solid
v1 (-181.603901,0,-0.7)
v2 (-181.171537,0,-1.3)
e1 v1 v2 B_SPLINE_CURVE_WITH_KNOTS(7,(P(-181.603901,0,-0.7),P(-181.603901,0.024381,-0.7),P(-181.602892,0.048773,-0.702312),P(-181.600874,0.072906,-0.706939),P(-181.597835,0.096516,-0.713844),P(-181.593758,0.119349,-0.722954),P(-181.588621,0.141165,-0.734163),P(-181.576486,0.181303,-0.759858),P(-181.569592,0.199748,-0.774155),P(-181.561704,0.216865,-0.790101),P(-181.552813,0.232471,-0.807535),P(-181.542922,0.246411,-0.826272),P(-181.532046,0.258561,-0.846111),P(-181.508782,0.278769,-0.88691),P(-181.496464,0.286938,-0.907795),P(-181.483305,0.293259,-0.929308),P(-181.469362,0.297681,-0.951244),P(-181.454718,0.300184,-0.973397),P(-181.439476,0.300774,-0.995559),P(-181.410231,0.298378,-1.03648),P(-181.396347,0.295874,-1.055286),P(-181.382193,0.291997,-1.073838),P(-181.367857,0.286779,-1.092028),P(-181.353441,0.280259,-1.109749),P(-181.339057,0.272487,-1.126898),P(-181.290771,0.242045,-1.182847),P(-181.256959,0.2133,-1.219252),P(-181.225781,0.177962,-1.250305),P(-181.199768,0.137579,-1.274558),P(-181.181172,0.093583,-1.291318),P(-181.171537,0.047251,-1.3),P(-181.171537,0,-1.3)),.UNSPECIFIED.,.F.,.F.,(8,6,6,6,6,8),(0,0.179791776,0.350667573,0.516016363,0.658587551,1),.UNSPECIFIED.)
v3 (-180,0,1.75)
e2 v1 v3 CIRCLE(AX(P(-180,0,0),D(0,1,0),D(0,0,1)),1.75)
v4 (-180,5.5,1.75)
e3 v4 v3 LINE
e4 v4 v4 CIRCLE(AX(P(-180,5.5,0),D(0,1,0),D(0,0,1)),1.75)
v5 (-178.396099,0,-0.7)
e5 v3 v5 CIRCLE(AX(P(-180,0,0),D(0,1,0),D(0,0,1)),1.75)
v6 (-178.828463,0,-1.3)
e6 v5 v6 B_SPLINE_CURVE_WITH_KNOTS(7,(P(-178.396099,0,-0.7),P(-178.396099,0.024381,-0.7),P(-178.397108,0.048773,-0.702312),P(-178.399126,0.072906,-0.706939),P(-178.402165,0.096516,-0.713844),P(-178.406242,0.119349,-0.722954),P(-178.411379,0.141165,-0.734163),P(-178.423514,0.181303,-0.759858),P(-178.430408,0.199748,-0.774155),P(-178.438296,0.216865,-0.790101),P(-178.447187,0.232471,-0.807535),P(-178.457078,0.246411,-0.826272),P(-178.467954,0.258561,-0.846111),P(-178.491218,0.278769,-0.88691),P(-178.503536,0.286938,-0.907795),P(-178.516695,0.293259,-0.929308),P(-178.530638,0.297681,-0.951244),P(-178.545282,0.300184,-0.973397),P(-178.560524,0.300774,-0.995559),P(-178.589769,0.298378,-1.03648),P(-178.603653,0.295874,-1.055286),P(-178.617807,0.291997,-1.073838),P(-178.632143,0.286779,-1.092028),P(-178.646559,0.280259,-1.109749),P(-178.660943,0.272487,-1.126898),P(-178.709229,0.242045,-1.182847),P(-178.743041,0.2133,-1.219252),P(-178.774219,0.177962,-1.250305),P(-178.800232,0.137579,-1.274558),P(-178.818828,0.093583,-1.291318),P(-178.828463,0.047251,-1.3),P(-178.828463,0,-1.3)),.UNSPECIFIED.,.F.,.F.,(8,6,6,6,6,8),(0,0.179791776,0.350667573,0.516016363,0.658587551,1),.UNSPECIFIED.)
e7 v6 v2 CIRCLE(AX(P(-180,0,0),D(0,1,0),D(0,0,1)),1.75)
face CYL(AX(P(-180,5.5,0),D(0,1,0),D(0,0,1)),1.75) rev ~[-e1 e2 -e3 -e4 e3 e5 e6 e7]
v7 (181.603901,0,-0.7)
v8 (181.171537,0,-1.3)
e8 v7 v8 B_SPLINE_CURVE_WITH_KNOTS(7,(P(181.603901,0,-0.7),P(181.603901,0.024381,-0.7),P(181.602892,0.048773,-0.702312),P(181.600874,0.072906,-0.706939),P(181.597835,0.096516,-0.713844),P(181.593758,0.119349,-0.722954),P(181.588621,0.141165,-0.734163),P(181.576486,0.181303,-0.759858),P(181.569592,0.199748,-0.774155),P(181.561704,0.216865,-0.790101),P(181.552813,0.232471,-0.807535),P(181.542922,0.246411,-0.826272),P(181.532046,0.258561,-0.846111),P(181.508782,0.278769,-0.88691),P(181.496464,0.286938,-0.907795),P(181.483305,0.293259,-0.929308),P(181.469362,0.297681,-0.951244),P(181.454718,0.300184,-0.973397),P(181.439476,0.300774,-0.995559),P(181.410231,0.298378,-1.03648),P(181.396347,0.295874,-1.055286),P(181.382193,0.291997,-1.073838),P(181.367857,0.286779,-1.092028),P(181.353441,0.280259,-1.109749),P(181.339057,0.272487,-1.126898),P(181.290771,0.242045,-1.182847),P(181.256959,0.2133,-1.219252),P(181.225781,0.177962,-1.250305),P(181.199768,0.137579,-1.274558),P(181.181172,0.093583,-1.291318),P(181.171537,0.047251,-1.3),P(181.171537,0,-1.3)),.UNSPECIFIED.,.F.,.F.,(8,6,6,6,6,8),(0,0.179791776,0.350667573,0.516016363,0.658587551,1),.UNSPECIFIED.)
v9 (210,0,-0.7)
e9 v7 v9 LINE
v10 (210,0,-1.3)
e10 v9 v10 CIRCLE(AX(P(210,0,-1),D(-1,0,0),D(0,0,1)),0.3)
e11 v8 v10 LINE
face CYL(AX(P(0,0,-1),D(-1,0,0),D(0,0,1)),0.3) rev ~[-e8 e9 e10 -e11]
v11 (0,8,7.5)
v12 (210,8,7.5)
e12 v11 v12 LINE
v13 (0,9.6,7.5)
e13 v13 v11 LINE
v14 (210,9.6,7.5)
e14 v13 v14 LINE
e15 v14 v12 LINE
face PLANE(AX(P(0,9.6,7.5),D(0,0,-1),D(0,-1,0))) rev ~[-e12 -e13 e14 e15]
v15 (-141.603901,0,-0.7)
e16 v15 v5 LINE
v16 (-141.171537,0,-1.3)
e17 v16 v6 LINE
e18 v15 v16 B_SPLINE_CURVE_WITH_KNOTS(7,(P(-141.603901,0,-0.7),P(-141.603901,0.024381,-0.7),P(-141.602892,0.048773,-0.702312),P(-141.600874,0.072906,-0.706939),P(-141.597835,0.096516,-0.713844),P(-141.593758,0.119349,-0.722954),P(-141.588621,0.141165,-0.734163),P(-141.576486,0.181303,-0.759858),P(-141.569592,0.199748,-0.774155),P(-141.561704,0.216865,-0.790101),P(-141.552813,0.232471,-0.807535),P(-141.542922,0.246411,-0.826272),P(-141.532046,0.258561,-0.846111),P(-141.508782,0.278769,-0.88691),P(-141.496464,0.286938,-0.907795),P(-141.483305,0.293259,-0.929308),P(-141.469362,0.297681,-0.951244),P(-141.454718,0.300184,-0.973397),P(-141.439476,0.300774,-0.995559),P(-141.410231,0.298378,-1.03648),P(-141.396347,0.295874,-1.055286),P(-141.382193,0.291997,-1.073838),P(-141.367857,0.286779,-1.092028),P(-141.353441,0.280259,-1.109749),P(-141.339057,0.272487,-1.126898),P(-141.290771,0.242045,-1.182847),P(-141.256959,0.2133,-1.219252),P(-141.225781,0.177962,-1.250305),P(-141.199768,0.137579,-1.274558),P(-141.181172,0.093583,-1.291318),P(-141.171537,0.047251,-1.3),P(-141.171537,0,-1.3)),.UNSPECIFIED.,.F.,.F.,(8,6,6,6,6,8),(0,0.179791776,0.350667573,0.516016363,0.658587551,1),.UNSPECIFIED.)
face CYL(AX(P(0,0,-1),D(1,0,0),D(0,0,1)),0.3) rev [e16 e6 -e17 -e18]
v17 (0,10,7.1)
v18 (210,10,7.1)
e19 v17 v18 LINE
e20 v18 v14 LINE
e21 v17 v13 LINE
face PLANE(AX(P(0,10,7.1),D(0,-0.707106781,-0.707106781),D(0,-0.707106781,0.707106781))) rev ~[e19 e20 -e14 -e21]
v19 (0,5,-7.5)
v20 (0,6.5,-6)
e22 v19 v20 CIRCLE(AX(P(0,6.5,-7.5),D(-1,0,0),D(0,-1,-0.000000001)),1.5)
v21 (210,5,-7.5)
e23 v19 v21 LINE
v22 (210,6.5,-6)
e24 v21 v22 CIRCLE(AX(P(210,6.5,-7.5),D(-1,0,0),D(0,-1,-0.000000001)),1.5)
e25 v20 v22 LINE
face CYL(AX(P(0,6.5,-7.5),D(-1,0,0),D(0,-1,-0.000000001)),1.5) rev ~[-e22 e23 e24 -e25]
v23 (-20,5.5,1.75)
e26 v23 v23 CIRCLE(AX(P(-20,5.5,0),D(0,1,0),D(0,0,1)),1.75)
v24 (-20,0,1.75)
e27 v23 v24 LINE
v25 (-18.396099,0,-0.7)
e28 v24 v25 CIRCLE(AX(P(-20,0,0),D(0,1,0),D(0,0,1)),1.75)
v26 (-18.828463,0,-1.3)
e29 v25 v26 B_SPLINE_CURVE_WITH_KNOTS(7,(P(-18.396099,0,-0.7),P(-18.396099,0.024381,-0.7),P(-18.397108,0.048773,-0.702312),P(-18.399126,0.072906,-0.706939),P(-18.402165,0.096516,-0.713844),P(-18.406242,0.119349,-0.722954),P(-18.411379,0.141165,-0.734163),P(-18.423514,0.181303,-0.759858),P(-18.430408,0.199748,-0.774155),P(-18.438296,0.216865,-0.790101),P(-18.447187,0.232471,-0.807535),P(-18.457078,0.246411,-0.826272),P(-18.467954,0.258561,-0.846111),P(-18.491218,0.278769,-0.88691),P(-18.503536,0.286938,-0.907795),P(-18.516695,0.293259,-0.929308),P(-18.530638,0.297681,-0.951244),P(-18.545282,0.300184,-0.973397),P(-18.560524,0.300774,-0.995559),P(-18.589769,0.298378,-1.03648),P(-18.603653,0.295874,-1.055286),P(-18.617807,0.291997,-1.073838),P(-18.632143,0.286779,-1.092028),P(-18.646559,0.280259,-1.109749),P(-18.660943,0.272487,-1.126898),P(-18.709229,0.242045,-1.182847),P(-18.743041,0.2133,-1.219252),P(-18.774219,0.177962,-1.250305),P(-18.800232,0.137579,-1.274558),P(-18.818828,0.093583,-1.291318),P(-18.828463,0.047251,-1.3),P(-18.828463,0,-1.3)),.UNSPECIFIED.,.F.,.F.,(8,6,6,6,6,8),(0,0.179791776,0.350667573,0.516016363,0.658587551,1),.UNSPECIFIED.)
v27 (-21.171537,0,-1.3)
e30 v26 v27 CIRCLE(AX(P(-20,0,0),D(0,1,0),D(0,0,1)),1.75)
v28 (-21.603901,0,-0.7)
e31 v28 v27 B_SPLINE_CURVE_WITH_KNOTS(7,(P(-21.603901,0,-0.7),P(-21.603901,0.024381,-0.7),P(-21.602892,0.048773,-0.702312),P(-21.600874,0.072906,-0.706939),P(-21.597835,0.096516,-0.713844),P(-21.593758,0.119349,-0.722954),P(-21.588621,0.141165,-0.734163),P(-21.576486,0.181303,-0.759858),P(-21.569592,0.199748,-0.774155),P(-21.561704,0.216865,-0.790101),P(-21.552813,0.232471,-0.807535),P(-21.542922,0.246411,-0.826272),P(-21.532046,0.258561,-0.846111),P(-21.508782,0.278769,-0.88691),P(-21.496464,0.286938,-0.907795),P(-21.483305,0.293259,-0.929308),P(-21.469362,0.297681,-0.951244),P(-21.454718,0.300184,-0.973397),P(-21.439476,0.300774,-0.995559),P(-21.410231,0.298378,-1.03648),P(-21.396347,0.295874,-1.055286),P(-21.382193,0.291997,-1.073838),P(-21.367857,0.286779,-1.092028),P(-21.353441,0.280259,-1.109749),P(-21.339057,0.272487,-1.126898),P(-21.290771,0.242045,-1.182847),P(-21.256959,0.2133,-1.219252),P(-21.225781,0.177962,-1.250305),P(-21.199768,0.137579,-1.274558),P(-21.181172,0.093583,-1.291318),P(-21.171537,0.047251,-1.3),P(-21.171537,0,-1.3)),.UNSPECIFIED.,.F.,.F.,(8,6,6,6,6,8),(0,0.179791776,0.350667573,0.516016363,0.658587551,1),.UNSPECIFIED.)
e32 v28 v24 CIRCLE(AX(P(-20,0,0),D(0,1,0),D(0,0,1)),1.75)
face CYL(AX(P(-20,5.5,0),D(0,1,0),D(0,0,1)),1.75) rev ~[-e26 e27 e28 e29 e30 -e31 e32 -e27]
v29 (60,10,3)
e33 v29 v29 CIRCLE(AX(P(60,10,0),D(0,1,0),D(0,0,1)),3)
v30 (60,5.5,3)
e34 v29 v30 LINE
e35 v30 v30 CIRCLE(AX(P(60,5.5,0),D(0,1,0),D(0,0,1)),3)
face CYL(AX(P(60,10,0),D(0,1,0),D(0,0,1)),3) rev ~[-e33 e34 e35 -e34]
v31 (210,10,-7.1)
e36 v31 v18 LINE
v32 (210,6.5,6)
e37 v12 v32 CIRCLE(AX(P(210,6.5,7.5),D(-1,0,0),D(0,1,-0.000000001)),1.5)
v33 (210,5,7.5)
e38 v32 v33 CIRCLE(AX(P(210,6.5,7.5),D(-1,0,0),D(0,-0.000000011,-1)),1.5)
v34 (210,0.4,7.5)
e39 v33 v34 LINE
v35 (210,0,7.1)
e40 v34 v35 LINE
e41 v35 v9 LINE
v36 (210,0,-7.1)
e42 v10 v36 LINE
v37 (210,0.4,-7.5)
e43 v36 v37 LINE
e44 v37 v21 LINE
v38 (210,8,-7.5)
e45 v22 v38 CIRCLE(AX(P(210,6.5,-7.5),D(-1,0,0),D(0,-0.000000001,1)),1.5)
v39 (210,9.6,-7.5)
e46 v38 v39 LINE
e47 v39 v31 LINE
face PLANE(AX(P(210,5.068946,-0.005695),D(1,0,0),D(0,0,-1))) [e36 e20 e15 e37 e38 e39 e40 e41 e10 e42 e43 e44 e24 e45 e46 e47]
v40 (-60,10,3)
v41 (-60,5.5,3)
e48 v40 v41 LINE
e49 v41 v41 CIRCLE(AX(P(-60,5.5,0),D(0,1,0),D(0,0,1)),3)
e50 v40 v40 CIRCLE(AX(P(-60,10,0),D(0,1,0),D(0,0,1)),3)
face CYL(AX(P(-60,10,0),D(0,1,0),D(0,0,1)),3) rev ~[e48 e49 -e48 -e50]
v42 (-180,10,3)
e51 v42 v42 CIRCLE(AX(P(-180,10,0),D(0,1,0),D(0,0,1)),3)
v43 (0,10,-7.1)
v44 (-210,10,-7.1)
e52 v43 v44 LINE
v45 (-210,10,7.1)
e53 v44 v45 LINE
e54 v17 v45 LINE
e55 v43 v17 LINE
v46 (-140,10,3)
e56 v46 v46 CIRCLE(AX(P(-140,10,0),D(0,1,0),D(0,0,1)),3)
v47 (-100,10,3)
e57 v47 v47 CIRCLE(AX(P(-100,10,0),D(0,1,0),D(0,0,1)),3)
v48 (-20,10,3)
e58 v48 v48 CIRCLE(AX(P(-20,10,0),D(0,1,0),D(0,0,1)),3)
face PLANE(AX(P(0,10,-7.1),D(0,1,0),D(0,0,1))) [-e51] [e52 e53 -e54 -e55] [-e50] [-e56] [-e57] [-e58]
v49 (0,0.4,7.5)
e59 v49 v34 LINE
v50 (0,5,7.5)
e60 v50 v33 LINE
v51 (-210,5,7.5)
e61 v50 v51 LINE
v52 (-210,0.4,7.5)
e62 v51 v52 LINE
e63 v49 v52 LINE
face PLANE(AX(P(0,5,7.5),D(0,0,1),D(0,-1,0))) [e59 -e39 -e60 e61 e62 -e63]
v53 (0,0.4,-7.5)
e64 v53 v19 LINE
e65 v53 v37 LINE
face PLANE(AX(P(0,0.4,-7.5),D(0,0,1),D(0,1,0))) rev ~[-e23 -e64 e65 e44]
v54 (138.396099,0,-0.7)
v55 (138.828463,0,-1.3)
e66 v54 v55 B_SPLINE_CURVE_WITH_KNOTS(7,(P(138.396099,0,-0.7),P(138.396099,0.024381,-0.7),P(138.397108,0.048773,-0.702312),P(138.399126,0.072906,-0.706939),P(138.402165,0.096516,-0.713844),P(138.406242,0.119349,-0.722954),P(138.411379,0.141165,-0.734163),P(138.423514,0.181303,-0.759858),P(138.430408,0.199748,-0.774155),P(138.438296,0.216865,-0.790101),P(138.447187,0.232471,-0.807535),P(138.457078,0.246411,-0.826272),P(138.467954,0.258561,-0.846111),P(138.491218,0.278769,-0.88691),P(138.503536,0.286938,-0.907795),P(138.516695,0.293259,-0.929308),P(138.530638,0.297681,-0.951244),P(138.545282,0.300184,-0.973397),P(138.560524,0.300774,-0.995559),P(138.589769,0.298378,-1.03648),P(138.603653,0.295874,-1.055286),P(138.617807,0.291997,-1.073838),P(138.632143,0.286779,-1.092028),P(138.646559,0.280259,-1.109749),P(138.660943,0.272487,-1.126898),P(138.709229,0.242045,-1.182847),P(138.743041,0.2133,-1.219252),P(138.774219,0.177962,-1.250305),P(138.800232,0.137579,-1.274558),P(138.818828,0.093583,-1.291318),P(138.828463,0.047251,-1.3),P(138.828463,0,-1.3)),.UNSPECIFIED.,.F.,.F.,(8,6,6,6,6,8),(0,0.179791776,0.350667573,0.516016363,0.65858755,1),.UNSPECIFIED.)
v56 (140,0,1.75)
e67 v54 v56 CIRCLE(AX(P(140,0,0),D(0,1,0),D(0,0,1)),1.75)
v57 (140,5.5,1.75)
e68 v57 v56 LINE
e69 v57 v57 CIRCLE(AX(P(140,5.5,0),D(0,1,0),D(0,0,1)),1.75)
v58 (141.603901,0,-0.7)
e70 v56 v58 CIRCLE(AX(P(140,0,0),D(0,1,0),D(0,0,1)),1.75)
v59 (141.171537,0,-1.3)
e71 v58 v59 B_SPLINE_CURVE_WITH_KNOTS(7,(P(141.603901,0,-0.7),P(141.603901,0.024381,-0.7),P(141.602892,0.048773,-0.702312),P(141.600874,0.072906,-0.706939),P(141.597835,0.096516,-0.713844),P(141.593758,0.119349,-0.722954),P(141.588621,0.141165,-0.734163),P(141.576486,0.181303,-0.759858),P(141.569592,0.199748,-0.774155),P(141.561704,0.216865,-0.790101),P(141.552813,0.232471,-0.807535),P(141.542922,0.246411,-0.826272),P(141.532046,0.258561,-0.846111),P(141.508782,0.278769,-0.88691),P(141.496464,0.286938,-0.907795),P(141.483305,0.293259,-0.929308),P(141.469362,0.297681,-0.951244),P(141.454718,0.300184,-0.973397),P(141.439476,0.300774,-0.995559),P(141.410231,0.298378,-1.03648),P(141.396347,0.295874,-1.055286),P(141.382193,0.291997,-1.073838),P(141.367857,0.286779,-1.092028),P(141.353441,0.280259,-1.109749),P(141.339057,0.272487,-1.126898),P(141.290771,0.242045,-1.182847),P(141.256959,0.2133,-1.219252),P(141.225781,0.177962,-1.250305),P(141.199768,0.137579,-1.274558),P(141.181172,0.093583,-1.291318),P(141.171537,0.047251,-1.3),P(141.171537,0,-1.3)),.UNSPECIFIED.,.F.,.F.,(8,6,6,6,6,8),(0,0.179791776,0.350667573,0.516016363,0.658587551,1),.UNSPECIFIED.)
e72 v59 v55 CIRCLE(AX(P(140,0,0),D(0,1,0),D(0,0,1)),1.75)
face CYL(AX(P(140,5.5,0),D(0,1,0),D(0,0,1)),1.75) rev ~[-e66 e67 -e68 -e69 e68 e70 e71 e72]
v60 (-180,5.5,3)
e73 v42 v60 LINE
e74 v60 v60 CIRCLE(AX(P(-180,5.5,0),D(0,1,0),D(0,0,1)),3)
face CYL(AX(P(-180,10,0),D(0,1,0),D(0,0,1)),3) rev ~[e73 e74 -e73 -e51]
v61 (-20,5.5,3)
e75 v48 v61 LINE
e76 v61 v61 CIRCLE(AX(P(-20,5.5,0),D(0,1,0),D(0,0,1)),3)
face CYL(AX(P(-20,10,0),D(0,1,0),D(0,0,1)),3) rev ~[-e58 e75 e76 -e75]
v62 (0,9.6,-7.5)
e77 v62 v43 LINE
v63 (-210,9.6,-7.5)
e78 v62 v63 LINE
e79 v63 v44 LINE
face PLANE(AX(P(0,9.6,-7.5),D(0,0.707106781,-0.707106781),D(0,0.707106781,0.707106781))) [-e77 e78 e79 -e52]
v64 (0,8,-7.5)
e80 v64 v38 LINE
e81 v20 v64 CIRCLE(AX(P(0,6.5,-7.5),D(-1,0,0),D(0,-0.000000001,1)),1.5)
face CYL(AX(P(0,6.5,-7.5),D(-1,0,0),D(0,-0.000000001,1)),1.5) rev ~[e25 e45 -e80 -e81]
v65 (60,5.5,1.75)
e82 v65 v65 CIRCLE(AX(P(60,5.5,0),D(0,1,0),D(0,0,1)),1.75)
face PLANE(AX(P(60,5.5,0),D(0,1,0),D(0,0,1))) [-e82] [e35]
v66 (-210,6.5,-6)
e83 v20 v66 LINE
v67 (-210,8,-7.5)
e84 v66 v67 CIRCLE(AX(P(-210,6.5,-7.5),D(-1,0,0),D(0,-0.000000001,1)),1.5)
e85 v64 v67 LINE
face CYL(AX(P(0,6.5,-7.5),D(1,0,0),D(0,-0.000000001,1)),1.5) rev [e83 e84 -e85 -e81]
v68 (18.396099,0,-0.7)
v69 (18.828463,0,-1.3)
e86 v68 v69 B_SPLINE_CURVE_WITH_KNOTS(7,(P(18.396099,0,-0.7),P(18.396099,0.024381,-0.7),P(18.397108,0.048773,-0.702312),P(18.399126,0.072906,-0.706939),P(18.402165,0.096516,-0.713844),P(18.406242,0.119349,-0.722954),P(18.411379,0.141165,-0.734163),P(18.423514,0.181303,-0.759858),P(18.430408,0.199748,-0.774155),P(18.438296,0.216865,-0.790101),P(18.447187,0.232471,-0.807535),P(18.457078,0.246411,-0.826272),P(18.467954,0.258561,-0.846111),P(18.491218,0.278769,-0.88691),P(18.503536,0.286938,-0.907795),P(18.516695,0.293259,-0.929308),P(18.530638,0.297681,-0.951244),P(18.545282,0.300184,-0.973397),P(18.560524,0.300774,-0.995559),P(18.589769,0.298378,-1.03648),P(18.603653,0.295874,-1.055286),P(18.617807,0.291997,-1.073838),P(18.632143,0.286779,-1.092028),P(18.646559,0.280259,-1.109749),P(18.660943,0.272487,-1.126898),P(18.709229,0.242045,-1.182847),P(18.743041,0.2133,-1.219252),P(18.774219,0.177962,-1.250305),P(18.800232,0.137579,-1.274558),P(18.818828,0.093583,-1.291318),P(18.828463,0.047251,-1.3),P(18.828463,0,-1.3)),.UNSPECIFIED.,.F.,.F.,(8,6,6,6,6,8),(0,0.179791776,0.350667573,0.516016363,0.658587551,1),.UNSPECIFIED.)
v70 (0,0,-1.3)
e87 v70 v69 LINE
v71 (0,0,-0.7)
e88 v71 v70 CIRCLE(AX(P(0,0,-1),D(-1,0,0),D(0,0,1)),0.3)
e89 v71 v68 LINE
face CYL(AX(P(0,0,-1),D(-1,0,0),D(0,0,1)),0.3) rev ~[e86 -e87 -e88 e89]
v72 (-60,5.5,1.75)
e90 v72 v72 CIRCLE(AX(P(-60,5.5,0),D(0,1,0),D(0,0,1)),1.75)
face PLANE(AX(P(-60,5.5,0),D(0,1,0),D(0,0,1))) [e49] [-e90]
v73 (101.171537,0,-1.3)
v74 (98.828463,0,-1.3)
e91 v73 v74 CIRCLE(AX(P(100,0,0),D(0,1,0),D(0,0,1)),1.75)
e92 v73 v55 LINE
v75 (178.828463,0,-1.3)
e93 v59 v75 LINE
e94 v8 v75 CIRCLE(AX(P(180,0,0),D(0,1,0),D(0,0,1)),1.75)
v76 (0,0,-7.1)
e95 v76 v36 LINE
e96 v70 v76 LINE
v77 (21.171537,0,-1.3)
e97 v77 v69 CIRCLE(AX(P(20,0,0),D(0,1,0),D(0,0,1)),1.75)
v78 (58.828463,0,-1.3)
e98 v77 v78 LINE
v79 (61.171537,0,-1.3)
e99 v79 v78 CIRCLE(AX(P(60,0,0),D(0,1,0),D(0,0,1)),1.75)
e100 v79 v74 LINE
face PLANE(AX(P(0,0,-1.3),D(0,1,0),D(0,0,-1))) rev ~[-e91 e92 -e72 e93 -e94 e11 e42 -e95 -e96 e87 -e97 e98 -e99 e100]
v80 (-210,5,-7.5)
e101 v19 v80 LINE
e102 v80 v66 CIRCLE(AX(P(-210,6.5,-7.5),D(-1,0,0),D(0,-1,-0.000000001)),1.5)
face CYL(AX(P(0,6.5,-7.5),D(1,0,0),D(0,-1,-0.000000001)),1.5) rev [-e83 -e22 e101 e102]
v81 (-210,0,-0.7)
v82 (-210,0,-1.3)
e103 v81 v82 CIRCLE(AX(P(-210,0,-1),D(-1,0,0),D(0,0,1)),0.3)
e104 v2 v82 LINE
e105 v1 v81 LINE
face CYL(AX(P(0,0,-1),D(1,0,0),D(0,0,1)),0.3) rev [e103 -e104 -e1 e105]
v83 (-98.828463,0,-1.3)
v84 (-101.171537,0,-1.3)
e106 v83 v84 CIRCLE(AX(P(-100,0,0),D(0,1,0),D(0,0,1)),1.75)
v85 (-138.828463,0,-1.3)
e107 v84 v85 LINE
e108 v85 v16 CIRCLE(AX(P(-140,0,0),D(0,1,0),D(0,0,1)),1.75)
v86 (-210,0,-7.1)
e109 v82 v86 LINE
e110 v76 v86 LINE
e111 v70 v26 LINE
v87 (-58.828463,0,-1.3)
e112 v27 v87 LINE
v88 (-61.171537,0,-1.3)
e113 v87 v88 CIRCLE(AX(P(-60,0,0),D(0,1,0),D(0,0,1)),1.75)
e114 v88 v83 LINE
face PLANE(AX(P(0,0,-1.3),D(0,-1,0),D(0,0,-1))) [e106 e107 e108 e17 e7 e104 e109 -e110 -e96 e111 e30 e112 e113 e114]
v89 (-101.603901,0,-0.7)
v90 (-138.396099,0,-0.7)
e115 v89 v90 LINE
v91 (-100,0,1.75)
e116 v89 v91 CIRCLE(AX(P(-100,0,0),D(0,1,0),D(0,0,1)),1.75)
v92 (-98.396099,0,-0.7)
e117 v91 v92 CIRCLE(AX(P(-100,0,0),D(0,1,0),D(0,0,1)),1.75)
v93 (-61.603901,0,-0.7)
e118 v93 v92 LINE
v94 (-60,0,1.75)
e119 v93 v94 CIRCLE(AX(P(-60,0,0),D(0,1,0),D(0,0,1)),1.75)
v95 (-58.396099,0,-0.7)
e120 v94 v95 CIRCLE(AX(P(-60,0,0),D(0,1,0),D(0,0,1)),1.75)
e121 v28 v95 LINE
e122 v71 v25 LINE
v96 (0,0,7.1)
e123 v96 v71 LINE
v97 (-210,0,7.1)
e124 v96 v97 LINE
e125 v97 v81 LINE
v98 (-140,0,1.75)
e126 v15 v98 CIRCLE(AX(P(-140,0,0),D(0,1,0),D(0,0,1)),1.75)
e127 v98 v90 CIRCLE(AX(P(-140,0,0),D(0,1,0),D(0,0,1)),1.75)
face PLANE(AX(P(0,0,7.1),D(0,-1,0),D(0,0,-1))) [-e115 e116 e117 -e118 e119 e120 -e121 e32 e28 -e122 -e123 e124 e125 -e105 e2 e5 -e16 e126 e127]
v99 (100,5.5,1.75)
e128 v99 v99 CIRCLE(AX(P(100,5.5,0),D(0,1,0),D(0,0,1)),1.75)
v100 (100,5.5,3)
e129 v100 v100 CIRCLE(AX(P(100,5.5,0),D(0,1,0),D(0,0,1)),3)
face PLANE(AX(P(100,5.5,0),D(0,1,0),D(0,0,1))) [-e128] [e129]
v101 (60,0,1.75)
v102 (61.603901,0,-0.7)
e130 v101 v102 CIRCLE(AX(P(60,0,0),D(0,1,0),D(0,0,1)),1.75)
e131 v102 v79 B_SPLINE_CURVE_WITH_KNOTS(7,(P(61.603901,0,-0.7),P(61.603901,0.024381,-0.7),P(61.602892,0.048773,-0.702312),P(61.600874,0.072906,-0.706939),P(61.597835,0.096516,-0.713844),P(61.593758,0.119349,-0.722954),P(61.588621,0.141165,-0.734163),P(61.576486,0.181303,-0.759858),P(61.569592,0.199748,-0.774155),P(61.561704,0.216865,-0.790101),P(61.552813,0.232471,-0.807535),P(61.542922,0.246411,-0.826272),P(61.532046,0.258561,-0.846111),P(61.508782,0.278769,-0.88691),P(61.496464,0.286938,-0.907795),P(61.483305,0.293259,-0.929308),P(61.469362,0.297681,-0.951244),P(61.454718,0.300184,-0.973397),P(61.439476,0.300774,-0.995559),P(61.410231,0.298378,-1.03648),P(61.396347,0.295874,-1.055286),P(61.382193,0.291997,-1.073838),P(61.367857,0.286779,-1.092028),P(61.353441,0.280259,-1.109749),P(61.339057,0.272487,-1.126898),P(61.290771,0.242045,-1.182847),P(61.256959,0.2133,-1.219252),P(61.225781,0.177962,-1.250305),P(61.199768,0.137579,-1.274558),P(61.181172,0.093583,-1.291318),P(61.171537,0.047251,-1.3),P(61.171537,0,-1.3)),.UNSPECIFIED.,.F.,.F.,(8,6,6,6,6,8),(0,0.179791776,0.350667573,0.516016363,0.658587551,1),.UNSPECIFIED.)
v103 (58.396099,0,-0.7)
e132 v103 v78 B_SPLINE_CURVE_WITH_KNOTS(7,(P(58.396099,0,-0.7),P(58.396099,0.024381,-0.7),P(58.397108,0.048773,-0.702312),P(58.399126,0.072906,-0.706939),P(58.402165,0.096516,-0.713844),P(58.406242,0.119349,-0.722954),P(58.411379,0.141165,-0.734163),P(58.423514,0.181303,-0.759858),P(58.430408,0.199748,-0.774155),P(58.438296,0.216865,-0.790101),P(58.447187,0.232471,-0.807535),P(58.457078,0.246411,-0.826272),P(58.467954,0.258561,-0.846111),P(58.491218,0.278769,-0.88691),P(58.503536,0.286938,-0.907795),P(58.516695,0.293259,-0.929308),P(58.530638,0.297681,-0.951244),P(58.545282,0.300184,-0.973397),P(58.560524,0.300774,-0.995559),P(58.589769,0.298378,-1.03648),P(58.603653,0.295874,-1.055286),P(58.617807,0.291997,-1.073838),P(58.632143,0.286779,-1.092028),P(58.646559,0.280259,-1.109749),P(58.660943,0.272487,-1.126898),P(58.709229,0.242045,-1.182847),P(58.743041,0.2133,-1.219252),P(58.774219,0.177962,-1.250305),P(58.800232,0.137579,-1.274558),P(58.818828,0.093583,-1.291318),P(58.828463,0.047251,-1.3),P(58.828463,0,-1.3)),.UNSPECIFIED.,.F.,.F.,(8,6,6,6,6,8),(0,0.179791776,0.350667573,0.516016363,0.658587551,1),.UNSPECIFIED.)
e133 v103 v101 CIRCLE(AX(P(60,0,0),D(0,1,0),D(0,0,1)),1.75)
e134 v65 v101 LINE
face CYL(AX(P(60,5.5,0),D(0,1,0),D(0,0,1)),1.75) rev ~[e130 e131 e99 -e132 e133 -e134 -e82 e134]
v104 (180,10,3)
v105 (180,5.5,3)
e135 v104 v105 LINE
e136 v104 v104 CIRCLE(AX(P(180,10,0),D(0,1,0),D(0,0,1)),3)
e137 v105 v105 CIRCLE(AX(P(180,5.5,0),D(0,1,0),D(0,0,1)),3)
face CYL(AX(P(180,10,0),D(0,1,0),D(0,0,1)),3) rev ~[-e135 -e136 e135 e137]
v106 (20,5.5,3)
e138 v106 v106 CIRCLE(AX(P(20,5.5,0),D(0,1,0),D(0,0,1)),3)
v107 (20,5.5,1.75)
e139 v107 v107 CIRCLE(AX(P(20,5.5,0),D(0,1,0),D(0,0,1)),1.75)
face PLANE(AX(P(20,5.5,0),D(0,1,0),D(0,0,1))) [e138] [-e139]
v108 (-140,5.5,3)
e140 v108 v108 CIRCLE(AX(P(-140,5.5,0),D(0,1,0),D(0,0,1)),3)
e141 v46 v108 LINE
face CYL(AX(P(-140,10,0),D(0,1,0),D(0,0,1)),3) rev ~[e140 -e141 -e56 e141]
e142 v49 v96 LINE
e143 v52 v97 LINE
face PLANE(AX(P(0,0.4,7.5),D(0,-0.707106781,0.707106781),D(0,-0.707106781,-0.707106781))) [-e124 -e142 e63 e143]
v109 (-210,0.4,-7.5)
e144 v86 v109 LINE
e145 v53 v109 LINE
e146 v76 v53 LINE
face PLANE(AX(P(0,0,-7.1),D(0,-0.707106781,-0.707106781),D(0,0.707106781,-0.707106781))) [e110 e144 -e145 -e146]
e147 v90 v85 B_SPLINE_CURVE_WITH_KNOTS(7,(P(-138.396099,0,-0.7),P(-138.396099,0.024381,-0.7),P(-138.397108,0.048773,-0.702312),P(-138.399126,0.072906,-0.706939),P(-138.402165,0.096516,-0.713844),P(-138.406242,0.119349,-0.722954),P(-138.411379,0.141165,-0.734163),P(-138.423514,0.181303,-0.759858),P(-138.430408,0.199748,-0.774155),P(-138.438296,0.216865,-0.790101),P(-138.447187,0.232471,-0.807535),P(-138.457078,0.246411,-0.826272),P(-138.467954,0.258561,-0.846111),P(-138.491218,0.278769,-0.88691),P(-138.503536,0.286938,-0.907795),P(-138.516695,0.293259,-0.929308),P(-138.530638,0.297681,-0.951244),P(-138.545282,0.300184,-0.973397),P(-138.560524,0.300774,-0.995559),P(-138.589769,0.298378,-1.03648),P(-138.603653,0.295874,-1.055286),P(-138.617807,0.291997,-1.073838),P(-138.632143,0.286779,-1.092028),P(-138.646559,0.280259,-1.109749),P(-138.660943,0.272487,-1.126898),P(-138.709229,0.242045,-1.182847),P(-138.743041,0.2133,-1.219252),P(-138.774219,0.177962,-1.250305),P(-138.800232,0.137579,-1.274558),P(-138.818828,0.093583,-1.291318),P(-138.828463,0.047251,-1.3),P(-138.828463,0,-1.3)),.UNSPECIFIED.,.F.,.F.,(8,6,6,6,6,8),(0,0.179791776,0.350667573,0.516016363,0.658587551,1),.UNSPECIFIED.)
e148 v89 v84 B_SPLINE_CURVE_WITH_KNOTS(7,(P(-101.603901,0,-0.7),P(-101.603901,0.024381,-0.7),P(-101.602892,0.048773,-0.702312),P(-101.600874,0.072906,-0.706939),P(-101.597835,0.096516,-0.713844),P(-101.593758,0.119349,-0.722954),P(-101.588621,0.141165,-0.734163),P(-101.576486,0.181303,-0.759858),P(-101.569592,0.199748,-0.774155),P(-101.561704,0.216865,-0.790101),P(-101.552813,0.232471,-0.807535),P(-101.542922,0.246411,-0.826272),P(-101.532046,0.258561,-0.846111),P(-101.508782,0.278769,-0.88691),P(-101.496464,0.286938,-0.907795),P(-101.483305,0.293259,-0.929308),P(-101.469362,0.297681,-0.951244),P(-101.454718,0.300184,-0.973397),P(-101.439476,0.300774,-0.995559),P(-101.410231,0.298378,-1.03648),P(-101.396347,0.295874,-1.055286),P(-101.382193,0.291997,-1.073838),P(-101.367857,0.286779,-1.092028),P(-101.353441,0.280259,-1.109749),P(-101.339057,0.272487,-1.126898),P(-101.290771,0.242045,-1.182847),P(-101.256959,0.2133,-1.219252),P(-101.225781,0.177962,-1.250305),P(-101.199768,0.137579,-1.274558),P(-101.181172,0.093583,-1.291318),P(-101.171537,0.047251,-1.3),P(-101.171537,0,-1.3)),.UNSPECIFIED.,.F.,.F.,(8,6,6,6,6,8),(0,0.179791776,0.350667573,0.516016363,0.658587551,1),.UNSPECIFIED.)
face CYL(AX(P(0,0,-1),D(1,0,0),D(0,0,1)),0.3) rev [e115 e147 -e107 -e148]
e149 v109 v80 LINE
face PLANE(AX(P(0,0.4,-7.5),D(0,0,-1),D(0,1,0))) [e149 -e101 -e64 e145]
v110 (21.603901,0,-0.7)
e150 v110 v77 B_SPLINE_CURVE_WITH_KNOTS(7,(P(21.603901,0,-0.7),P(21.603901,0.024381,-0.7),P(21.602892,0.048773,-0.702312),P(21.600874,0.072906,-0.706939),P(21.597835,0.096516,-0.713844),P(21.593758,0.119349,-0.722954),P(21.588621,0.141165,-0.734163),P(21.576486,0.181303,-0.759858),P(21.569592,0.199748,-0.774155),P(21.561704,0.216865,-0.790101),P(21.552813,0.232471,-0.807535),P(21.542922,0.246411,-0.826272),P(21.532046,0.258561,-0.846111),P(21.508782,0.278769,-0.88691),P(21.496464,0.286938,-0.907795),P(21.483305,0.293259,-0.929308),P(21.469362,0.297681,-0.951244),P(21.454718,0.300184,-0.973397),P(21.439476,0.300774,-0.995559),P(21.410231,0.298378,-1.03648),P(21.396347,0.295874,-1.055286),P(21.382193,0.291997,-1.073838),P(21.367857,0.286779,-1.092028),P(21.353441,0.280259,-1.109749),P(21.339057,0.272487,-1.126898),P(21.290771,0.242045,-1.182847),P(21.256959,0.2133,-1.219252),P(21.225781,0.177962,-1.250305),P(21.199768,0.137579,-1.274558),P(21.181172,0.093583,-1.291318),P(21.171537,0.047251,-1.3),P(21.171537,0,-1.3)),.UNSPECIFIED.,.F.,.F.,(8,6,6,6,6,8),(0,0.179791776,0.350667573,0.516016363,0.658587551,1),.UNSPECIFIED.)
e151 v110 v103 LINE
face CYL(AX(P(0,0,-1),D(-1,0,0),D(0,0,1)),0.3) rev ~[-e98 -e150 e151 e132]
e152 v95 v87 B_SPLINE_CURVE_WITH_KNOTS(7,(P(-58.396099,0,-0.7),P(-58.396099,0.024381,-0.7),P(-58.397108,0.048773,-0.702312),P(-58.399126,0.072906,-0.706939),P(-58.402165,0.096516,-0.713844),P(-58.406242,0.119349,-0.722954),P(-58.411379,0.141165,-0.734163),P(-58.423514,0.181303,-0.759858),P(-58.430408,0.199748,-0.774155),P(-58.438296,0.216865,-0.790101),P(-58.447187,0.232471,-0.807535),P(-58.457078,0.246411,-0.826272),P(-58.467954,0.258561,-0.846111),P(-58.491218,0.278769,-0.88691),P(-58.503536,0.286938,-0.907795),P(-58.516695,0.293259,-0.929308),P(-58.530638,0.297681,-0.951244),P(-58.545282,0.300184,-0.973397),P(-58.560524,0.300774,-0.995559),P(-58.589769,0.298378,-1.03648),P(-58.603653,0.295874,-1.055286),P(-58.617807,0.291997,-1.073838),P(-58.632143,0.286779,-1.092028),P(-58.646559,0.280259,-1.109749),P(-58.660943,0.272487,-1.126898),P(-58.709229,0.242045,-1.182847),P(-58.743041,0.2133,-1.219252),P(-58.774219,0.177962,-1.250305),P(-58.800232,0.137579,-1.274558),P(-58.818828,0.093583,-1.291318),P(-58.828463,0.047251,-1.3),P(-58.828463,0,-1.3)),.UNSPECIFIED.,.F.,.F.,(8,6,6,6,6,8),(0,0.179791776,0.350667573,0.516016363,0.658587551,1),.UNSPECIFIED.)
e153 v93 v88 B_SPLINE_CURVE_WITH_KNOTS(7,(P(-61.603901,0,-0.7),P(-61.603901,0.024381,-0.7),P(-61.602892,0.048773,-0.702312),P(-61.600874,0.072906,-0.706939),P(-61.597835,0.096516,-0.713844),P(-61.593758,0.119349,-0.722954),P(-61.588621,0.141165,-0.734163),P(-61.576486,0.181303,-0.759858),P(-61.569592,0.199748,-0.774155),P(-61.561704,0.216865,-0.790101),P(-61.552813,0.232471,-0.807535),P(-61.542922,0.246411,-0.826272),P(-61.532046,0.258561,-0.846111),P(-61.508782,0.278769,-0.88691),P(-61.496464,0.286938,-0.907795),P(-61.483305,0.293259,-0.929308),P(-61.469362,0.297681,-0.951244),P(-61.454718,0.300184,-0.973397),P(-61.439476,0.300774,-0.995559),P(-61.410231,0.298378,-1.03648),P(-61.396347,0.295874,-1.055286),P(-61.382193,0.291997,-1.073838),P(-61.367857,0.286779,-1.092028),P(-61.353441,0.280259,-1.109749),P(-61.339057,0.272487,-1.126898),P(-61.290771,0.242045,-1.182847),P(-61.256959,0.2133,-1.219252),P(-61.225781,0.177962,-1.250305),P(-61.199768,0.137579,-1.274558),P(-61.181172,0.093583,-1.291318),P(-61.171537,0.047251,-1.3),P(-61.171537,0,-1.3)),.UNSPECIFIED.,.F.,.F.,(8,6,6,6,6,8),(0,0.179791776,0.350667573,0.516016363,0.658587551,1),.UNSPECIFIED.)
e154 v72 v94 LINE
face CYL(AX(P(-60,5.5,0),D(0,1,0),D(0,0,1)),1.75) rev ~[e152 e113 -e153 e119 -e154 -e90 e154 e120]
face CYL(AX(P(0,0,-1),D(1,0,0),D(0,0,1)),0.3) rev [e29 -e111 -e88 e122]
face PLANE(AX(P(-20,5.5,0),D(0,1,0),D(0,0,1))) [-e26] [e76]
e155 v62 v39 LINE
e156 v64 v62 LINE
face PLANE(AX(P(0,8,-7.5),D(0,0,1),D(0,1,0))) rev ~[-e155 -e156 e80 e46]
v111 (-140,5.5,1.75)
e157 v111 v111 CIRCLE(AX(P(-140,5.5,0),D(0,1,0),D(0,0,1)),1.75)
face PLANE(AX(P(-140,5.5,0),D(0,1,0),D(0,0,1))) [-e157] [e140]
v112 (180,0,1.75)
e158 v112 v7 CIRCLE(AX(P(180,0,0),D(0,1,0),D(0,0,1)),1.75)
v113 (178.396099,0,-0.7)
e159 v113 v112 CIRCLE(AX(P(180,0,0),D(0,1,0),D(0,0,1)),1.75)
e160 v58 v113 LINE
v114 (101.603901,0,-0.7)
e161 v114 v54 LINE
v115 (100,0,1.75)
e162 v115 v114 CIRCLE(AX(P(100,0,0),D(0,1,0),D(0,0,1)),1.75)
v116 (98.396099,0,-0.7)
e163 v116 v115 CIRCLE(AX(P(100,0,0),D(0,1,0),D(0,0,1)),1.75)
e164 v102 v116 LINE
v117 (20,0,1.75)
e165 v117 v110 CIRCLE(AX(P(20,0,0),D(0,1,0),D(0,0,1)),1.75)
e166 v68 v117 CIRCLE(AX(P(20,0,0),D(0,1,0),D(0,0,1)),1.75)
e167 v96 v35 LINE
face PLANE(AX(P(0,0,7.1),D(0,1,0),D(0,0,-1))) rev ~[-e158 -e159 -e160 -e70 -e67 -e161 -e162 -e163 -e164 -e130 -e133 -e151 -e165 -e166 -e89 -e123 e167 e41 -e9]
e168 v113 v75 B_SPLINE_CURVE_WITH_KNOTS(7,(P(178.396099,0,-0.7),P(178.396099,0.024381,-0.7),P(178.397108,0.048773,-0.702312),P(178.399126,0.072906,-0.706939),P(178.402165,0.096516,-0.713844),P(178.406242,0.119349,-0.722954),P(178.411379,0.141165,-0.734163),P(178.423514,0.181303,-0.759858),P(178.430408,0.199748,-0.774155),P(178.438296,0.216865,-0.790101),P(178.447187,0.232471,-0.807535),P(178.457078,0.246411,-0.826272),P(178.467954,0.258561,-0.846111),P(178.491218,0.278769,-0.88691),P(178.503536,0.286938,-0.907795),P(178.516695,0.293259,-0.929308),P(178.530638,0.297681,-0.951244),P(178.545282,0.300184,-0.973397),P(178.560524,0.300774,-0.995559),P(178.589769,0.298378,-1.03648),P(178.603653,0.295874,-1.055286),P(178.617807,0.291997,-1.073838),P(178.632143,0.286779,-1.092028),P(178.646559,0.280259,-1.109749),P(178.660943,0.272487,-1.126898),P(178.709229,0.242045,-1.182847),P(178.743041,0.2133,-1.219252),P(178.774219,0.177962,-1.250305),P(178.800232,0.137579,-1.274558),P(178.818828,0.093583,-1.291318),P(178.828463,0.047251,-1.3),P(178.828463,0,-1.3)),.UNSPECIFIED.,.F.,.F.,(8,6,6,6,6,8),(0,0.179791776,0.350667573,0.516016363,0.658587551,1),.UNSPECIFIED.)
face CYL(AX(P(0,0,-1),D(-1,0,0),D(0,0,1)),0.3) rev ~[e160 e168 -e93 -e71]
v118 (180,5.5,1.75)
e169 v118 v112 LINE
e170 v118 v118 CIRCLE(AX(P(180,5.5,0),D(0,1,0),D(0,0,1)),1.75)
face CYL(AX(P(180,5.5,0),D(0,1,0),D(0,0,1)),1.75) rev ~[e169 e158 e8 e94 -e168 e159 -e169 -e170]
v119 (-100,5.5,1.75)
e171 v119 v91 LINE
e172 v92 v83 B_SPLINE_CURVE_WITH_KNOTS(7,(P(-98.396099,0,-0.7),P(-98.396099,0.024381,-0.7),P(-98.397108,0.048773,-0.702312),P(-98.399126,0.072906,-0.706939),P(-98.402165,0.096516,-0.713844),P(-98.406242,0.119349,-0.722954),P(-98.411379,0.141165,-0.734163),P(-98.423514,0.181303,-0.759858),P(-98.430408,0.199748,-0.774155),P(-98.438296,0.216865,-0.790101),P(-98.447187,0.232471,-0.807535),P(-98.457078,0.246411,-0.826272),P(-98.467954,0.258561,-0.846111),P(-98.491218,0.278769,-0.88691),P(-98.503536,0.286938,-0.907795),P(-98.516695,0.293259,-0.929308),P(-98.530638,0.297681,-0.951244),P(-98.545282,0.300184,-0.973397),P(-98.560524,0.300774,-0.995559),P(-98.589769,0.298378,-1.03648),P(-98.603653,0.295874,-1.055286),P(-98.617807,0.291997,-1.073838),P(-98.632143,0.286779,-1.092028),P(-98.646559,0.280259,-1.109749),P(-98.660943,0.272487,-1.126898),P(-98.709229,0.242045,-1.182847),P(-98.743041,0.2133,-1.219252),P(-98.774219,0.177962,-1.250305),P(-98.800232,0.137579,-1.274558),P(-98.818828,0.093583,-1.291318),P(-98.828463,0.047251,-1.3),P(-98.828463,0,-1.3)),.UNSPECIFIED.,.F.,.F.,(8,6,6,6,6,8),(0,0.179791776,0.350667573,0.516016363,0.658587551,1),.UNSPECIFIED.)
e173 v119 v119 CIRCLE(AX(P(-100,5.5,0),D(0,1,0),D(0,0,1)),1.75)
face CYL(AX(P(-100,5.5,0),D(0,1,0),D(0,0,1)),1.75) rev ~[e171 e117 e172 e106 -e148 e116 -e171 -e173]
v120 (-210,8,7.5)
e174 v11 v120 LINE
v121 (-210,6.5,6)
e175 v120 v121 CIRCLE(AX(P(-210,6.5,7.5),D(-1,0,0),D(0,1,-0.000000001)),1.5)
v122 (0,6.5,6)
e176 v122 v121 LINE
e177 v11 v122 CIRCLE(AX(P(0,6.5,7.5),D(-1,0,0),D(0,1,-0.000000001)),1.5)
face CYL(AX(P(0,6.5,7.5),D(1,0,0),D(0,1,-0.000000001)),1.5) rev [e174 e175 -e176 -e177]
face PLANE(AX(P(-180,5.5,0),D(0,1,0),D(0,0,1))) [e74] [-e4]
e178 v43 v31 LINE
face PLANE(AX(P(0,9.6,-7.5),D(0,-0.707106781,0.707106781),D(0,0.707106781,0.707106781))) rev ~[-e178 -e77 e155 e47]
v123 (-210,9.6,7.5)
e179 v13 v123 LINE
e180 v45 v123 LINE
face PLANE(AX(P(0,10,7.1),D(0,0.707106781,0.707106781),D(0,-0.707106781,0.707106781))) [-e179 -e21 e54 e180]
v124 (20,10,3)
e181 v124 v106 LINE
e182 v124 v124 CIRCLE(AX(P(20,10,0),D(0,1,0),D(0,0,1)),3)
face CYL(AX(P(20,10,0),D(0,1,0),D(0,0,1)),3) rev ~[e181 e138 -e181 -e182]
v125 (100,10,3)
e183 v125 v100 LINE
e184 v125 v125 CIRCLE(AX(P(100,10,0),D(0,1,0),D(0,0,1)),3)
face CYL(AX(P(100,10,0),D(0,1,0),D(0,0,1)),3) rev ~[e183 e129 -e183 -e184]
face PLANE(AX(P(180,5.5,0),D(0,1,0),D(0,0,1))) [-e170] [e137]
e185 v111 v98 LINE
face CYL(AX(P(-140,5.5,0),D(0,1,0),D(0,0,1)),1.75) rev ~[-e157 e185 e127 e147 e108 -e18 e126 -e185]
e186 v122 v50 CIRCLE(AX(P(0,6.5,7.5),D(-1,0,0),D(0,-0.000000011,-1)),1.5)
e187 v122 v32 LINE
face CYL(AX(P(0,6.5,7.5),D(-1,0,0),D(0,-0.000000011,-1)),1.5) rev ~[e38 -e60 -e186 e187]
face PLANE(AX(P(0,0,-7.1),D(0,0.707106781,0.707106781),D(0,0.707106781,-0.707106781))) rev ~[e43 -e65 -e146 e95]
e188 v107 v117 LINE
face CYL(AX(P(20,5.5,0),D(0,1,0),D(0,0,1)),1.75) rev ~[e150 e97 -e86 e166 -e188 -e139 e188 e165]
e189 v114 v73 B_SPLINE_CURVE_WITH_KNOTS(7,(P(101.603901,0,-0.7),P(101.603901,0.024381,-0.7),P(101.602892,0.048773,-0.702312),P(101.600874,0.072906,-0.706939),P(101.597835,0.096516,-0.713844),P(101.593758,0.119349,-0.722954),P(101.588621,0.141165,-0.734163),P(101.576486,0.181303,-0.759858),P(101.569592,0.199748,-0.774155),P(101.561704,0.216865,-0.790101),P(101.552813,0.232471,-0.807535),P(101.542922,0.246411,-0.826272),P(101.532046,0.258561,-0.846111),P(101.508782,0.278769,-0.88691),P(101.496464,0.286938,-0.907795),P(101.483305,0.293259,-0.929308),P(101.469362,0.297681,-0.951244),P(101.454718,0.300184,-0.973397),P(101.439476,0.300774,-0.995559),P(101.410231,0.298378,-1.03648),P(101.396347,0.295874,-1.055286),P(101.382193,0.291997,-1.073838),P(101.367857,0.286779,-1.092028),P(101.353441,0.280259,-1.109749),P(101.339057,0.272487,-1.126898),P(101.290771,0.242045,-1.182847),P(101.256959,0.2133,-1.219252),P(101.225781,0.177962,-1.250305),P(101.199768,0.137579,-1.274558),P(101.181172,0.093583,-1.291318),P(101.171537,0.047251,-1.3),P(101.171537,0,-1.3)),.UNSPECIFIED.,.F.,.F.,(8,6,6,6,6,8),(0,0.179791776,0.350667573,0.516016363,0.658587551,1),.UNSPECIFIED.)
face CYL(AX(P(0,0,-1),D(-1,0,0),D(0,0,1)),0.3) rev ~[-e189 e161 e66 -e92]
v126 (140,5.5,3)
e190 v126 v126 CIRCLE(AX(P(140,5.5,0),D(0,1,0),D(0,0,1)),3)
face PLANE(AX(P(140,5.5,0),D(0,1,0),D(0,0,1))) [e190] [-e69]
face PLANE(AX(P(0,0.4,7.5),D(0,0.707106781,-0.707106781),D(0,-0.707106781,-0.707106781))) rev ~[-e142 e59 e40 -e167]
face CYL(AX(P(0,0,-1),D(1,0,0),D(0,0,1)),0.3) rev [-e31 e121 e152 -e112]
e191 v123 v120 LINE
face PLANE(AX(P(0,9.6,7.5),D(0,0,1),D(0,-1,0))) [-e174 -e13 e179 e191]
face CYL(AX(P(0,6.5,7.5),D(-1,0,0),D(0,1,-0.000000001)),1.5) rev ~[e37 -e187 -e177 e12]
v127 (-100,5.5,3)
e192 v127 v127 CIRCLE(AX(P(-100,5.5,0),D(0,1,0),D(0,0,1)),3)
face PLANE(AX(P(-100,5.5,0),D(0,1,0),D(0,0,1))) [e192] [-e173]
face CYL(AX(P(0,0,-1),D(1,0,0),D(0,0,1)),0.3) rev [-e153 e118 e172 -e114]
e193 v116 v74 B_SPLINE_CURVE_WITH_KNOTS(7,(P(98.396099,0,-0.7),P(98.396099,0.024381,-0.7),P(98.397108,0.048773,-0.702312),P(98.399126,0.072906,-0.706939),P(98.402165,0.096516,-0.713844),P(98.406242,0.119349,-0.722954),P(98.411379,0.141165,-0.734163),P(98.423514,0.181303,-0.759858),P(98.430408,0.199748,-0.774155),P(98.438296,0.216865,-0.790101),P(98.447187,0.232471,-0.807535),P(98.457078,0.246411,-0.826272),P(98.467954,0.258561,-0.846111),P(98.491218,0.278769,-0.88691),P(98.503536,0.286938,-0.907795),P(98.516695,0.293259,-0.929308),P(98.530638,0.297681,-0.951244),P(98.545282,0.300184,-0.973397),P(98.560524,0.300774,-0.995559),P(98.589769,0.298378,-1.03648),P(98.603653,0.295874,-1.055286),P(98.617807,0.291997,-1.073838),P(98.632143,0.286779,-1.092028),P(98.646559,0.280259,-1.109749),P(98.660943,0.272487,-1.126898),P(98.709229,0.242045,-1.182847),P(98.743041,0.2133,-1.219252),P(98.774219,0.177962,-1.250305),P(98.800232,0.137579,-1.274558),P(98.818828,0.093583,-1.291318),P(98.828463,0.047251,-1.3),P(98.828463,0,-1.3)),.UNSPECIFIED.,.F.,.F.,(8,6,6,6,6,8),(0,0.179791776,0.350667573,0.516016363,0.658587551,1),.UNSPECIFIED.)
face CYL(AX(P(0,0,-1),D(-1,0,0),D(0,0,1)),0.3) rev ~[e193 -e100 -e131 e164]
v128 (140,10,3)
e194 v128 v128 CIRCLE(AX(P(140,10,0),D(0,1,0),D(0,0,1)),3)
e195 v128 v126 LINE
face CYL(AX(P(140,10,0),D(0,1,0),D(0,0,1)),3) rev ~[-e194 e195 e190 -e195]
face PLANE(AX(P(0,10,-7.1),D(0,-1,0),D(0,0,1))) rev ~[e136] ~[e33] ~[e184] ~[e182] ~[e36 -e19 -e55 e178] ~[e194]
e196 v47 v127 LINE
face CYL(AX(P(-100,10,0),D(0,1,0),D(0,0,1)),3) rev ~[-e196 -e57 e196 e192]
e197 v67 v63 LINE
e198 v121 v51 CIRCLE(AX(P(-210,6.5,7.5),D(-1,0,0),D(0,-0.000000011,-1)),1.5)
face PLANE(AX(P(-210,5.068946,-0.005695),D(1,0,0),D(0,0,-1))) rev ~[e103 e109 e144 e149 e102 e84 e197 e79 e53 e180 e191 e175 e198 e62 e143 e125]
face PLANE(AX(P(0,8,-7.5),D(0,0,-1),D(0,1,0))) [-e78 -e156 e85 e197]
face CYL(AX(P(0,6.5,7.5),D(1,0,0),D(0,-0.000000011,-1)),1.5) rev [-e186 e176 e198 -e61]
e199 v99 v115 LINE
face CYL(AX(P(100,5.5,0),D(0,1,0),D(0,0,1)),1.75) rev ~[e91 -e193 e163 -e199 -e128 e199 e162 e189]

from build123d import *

# Parameters (mm, degrees)
EXTRUDE_1_DEPTH        = 210
SKETCH_2_R             = 3
CUT_EXTRUDE_1_DEPTH    = 4.5
SKETCH_4_R             = 1.75
CUT_EXTRUDE_2_DEPTH    = 211.205851488
PATTERN_LINEAR_1_COUNT = 15
PATTERN_LINEAR_1_PITCH = 40


with BuildPart() as part:
    # 草图1 → 凸台-拉伸1 (new, symmetric)
    with BuildSketch(Plane(origin=(0, 0, 0), x_dir=(0, 0, -1), z_dir=(1, 0, 0))):
        with BuildLine():
            Line((-7.5, 5), (-7.5, 0.4))
            Line((-7.5, 0.4), (-7.1, 0))
            Line((-7.1, 0), (0.7, 0))
            ThreePointArc((0.7, 0), (1, 0.3), (1.3, 0))
            Line((1.3, 0), (7.1, 0))
            Line((7.1, 0), (7.5, 0.4))
            Line((7.5, 0.4), (7.5, 5))
            ThreePointArc((7.5, 5), (6.439339828, 5.439339828), (6, 6.5))
            ThreePointArc((6, 6.5), (6.439339828, 7.560660172), (7.5, 8))
            Line((7.5, 8), (7.5, 9.6))
            Line((7.5, 9.6), (7.1, 10))
            Line((7.1, 10), (-7.1, 10))
            Line((-7.1, 10), (-7.5, 9.6))
            Line((-7.5, 9.6), (-7.5, 8))
            ThreePointArc((-7.5, 8), (-6.439339823, 7.560660166), (-6, 6.499999984))
            ThreePointArc((-6, 6.499999984), (-6.439339834, 5.439339823), (-7.5, 5))
        make_face()
    extrude(amount=EXTRUDE_1_DEPTH, both=True)

    # 草图2 → 切除-拉伸1 (cut)
    with BuildSketch(Plane(origin=(0, 10, 0), x_dir=(1, 0, 0), z_dir=(0, 1, 0))):
        with Locations(Location((-180, 0, 0), (0, 0, 270))):
            Circle(SKETCH_2_R)
    cut_extrude_1 = extrude(amount=-CUT_EXTRUDE_1_DEPTH, mode=Mode.SUBTRACT)

    # 草图4 → 切除-拉伸2 (cut, through all)
    with BuildSketch(Plane(origin=(0, 5.5, 0), x_dir=(1, 0, 0), z_dir=(0, 1, 0))):
        with Locations(Location((-180, 0, 0), (0, 0, 270))):
            Circle(SKETCH_4_R)
    cut_extrude_2 = extrude(amount=-CUT_EXTRUDE_2_DEPTH, mode=Mode.SUBTRACT)

    # 阵列(线性)1: 切除-拉伸1, 切除-拉伸2 ×15
    with Locations(*[(i * PATTERN_LINEAR_1_PITCH, 0, 0) for i in range(1, PATTERN_LINEAR_1_COUNT)]):
        add(cut_extrude_1, mode=Mode.SUBTRACT)
        add(cut_extrude_2, mode=Mode.SUBTRACT)


solid = part.part
